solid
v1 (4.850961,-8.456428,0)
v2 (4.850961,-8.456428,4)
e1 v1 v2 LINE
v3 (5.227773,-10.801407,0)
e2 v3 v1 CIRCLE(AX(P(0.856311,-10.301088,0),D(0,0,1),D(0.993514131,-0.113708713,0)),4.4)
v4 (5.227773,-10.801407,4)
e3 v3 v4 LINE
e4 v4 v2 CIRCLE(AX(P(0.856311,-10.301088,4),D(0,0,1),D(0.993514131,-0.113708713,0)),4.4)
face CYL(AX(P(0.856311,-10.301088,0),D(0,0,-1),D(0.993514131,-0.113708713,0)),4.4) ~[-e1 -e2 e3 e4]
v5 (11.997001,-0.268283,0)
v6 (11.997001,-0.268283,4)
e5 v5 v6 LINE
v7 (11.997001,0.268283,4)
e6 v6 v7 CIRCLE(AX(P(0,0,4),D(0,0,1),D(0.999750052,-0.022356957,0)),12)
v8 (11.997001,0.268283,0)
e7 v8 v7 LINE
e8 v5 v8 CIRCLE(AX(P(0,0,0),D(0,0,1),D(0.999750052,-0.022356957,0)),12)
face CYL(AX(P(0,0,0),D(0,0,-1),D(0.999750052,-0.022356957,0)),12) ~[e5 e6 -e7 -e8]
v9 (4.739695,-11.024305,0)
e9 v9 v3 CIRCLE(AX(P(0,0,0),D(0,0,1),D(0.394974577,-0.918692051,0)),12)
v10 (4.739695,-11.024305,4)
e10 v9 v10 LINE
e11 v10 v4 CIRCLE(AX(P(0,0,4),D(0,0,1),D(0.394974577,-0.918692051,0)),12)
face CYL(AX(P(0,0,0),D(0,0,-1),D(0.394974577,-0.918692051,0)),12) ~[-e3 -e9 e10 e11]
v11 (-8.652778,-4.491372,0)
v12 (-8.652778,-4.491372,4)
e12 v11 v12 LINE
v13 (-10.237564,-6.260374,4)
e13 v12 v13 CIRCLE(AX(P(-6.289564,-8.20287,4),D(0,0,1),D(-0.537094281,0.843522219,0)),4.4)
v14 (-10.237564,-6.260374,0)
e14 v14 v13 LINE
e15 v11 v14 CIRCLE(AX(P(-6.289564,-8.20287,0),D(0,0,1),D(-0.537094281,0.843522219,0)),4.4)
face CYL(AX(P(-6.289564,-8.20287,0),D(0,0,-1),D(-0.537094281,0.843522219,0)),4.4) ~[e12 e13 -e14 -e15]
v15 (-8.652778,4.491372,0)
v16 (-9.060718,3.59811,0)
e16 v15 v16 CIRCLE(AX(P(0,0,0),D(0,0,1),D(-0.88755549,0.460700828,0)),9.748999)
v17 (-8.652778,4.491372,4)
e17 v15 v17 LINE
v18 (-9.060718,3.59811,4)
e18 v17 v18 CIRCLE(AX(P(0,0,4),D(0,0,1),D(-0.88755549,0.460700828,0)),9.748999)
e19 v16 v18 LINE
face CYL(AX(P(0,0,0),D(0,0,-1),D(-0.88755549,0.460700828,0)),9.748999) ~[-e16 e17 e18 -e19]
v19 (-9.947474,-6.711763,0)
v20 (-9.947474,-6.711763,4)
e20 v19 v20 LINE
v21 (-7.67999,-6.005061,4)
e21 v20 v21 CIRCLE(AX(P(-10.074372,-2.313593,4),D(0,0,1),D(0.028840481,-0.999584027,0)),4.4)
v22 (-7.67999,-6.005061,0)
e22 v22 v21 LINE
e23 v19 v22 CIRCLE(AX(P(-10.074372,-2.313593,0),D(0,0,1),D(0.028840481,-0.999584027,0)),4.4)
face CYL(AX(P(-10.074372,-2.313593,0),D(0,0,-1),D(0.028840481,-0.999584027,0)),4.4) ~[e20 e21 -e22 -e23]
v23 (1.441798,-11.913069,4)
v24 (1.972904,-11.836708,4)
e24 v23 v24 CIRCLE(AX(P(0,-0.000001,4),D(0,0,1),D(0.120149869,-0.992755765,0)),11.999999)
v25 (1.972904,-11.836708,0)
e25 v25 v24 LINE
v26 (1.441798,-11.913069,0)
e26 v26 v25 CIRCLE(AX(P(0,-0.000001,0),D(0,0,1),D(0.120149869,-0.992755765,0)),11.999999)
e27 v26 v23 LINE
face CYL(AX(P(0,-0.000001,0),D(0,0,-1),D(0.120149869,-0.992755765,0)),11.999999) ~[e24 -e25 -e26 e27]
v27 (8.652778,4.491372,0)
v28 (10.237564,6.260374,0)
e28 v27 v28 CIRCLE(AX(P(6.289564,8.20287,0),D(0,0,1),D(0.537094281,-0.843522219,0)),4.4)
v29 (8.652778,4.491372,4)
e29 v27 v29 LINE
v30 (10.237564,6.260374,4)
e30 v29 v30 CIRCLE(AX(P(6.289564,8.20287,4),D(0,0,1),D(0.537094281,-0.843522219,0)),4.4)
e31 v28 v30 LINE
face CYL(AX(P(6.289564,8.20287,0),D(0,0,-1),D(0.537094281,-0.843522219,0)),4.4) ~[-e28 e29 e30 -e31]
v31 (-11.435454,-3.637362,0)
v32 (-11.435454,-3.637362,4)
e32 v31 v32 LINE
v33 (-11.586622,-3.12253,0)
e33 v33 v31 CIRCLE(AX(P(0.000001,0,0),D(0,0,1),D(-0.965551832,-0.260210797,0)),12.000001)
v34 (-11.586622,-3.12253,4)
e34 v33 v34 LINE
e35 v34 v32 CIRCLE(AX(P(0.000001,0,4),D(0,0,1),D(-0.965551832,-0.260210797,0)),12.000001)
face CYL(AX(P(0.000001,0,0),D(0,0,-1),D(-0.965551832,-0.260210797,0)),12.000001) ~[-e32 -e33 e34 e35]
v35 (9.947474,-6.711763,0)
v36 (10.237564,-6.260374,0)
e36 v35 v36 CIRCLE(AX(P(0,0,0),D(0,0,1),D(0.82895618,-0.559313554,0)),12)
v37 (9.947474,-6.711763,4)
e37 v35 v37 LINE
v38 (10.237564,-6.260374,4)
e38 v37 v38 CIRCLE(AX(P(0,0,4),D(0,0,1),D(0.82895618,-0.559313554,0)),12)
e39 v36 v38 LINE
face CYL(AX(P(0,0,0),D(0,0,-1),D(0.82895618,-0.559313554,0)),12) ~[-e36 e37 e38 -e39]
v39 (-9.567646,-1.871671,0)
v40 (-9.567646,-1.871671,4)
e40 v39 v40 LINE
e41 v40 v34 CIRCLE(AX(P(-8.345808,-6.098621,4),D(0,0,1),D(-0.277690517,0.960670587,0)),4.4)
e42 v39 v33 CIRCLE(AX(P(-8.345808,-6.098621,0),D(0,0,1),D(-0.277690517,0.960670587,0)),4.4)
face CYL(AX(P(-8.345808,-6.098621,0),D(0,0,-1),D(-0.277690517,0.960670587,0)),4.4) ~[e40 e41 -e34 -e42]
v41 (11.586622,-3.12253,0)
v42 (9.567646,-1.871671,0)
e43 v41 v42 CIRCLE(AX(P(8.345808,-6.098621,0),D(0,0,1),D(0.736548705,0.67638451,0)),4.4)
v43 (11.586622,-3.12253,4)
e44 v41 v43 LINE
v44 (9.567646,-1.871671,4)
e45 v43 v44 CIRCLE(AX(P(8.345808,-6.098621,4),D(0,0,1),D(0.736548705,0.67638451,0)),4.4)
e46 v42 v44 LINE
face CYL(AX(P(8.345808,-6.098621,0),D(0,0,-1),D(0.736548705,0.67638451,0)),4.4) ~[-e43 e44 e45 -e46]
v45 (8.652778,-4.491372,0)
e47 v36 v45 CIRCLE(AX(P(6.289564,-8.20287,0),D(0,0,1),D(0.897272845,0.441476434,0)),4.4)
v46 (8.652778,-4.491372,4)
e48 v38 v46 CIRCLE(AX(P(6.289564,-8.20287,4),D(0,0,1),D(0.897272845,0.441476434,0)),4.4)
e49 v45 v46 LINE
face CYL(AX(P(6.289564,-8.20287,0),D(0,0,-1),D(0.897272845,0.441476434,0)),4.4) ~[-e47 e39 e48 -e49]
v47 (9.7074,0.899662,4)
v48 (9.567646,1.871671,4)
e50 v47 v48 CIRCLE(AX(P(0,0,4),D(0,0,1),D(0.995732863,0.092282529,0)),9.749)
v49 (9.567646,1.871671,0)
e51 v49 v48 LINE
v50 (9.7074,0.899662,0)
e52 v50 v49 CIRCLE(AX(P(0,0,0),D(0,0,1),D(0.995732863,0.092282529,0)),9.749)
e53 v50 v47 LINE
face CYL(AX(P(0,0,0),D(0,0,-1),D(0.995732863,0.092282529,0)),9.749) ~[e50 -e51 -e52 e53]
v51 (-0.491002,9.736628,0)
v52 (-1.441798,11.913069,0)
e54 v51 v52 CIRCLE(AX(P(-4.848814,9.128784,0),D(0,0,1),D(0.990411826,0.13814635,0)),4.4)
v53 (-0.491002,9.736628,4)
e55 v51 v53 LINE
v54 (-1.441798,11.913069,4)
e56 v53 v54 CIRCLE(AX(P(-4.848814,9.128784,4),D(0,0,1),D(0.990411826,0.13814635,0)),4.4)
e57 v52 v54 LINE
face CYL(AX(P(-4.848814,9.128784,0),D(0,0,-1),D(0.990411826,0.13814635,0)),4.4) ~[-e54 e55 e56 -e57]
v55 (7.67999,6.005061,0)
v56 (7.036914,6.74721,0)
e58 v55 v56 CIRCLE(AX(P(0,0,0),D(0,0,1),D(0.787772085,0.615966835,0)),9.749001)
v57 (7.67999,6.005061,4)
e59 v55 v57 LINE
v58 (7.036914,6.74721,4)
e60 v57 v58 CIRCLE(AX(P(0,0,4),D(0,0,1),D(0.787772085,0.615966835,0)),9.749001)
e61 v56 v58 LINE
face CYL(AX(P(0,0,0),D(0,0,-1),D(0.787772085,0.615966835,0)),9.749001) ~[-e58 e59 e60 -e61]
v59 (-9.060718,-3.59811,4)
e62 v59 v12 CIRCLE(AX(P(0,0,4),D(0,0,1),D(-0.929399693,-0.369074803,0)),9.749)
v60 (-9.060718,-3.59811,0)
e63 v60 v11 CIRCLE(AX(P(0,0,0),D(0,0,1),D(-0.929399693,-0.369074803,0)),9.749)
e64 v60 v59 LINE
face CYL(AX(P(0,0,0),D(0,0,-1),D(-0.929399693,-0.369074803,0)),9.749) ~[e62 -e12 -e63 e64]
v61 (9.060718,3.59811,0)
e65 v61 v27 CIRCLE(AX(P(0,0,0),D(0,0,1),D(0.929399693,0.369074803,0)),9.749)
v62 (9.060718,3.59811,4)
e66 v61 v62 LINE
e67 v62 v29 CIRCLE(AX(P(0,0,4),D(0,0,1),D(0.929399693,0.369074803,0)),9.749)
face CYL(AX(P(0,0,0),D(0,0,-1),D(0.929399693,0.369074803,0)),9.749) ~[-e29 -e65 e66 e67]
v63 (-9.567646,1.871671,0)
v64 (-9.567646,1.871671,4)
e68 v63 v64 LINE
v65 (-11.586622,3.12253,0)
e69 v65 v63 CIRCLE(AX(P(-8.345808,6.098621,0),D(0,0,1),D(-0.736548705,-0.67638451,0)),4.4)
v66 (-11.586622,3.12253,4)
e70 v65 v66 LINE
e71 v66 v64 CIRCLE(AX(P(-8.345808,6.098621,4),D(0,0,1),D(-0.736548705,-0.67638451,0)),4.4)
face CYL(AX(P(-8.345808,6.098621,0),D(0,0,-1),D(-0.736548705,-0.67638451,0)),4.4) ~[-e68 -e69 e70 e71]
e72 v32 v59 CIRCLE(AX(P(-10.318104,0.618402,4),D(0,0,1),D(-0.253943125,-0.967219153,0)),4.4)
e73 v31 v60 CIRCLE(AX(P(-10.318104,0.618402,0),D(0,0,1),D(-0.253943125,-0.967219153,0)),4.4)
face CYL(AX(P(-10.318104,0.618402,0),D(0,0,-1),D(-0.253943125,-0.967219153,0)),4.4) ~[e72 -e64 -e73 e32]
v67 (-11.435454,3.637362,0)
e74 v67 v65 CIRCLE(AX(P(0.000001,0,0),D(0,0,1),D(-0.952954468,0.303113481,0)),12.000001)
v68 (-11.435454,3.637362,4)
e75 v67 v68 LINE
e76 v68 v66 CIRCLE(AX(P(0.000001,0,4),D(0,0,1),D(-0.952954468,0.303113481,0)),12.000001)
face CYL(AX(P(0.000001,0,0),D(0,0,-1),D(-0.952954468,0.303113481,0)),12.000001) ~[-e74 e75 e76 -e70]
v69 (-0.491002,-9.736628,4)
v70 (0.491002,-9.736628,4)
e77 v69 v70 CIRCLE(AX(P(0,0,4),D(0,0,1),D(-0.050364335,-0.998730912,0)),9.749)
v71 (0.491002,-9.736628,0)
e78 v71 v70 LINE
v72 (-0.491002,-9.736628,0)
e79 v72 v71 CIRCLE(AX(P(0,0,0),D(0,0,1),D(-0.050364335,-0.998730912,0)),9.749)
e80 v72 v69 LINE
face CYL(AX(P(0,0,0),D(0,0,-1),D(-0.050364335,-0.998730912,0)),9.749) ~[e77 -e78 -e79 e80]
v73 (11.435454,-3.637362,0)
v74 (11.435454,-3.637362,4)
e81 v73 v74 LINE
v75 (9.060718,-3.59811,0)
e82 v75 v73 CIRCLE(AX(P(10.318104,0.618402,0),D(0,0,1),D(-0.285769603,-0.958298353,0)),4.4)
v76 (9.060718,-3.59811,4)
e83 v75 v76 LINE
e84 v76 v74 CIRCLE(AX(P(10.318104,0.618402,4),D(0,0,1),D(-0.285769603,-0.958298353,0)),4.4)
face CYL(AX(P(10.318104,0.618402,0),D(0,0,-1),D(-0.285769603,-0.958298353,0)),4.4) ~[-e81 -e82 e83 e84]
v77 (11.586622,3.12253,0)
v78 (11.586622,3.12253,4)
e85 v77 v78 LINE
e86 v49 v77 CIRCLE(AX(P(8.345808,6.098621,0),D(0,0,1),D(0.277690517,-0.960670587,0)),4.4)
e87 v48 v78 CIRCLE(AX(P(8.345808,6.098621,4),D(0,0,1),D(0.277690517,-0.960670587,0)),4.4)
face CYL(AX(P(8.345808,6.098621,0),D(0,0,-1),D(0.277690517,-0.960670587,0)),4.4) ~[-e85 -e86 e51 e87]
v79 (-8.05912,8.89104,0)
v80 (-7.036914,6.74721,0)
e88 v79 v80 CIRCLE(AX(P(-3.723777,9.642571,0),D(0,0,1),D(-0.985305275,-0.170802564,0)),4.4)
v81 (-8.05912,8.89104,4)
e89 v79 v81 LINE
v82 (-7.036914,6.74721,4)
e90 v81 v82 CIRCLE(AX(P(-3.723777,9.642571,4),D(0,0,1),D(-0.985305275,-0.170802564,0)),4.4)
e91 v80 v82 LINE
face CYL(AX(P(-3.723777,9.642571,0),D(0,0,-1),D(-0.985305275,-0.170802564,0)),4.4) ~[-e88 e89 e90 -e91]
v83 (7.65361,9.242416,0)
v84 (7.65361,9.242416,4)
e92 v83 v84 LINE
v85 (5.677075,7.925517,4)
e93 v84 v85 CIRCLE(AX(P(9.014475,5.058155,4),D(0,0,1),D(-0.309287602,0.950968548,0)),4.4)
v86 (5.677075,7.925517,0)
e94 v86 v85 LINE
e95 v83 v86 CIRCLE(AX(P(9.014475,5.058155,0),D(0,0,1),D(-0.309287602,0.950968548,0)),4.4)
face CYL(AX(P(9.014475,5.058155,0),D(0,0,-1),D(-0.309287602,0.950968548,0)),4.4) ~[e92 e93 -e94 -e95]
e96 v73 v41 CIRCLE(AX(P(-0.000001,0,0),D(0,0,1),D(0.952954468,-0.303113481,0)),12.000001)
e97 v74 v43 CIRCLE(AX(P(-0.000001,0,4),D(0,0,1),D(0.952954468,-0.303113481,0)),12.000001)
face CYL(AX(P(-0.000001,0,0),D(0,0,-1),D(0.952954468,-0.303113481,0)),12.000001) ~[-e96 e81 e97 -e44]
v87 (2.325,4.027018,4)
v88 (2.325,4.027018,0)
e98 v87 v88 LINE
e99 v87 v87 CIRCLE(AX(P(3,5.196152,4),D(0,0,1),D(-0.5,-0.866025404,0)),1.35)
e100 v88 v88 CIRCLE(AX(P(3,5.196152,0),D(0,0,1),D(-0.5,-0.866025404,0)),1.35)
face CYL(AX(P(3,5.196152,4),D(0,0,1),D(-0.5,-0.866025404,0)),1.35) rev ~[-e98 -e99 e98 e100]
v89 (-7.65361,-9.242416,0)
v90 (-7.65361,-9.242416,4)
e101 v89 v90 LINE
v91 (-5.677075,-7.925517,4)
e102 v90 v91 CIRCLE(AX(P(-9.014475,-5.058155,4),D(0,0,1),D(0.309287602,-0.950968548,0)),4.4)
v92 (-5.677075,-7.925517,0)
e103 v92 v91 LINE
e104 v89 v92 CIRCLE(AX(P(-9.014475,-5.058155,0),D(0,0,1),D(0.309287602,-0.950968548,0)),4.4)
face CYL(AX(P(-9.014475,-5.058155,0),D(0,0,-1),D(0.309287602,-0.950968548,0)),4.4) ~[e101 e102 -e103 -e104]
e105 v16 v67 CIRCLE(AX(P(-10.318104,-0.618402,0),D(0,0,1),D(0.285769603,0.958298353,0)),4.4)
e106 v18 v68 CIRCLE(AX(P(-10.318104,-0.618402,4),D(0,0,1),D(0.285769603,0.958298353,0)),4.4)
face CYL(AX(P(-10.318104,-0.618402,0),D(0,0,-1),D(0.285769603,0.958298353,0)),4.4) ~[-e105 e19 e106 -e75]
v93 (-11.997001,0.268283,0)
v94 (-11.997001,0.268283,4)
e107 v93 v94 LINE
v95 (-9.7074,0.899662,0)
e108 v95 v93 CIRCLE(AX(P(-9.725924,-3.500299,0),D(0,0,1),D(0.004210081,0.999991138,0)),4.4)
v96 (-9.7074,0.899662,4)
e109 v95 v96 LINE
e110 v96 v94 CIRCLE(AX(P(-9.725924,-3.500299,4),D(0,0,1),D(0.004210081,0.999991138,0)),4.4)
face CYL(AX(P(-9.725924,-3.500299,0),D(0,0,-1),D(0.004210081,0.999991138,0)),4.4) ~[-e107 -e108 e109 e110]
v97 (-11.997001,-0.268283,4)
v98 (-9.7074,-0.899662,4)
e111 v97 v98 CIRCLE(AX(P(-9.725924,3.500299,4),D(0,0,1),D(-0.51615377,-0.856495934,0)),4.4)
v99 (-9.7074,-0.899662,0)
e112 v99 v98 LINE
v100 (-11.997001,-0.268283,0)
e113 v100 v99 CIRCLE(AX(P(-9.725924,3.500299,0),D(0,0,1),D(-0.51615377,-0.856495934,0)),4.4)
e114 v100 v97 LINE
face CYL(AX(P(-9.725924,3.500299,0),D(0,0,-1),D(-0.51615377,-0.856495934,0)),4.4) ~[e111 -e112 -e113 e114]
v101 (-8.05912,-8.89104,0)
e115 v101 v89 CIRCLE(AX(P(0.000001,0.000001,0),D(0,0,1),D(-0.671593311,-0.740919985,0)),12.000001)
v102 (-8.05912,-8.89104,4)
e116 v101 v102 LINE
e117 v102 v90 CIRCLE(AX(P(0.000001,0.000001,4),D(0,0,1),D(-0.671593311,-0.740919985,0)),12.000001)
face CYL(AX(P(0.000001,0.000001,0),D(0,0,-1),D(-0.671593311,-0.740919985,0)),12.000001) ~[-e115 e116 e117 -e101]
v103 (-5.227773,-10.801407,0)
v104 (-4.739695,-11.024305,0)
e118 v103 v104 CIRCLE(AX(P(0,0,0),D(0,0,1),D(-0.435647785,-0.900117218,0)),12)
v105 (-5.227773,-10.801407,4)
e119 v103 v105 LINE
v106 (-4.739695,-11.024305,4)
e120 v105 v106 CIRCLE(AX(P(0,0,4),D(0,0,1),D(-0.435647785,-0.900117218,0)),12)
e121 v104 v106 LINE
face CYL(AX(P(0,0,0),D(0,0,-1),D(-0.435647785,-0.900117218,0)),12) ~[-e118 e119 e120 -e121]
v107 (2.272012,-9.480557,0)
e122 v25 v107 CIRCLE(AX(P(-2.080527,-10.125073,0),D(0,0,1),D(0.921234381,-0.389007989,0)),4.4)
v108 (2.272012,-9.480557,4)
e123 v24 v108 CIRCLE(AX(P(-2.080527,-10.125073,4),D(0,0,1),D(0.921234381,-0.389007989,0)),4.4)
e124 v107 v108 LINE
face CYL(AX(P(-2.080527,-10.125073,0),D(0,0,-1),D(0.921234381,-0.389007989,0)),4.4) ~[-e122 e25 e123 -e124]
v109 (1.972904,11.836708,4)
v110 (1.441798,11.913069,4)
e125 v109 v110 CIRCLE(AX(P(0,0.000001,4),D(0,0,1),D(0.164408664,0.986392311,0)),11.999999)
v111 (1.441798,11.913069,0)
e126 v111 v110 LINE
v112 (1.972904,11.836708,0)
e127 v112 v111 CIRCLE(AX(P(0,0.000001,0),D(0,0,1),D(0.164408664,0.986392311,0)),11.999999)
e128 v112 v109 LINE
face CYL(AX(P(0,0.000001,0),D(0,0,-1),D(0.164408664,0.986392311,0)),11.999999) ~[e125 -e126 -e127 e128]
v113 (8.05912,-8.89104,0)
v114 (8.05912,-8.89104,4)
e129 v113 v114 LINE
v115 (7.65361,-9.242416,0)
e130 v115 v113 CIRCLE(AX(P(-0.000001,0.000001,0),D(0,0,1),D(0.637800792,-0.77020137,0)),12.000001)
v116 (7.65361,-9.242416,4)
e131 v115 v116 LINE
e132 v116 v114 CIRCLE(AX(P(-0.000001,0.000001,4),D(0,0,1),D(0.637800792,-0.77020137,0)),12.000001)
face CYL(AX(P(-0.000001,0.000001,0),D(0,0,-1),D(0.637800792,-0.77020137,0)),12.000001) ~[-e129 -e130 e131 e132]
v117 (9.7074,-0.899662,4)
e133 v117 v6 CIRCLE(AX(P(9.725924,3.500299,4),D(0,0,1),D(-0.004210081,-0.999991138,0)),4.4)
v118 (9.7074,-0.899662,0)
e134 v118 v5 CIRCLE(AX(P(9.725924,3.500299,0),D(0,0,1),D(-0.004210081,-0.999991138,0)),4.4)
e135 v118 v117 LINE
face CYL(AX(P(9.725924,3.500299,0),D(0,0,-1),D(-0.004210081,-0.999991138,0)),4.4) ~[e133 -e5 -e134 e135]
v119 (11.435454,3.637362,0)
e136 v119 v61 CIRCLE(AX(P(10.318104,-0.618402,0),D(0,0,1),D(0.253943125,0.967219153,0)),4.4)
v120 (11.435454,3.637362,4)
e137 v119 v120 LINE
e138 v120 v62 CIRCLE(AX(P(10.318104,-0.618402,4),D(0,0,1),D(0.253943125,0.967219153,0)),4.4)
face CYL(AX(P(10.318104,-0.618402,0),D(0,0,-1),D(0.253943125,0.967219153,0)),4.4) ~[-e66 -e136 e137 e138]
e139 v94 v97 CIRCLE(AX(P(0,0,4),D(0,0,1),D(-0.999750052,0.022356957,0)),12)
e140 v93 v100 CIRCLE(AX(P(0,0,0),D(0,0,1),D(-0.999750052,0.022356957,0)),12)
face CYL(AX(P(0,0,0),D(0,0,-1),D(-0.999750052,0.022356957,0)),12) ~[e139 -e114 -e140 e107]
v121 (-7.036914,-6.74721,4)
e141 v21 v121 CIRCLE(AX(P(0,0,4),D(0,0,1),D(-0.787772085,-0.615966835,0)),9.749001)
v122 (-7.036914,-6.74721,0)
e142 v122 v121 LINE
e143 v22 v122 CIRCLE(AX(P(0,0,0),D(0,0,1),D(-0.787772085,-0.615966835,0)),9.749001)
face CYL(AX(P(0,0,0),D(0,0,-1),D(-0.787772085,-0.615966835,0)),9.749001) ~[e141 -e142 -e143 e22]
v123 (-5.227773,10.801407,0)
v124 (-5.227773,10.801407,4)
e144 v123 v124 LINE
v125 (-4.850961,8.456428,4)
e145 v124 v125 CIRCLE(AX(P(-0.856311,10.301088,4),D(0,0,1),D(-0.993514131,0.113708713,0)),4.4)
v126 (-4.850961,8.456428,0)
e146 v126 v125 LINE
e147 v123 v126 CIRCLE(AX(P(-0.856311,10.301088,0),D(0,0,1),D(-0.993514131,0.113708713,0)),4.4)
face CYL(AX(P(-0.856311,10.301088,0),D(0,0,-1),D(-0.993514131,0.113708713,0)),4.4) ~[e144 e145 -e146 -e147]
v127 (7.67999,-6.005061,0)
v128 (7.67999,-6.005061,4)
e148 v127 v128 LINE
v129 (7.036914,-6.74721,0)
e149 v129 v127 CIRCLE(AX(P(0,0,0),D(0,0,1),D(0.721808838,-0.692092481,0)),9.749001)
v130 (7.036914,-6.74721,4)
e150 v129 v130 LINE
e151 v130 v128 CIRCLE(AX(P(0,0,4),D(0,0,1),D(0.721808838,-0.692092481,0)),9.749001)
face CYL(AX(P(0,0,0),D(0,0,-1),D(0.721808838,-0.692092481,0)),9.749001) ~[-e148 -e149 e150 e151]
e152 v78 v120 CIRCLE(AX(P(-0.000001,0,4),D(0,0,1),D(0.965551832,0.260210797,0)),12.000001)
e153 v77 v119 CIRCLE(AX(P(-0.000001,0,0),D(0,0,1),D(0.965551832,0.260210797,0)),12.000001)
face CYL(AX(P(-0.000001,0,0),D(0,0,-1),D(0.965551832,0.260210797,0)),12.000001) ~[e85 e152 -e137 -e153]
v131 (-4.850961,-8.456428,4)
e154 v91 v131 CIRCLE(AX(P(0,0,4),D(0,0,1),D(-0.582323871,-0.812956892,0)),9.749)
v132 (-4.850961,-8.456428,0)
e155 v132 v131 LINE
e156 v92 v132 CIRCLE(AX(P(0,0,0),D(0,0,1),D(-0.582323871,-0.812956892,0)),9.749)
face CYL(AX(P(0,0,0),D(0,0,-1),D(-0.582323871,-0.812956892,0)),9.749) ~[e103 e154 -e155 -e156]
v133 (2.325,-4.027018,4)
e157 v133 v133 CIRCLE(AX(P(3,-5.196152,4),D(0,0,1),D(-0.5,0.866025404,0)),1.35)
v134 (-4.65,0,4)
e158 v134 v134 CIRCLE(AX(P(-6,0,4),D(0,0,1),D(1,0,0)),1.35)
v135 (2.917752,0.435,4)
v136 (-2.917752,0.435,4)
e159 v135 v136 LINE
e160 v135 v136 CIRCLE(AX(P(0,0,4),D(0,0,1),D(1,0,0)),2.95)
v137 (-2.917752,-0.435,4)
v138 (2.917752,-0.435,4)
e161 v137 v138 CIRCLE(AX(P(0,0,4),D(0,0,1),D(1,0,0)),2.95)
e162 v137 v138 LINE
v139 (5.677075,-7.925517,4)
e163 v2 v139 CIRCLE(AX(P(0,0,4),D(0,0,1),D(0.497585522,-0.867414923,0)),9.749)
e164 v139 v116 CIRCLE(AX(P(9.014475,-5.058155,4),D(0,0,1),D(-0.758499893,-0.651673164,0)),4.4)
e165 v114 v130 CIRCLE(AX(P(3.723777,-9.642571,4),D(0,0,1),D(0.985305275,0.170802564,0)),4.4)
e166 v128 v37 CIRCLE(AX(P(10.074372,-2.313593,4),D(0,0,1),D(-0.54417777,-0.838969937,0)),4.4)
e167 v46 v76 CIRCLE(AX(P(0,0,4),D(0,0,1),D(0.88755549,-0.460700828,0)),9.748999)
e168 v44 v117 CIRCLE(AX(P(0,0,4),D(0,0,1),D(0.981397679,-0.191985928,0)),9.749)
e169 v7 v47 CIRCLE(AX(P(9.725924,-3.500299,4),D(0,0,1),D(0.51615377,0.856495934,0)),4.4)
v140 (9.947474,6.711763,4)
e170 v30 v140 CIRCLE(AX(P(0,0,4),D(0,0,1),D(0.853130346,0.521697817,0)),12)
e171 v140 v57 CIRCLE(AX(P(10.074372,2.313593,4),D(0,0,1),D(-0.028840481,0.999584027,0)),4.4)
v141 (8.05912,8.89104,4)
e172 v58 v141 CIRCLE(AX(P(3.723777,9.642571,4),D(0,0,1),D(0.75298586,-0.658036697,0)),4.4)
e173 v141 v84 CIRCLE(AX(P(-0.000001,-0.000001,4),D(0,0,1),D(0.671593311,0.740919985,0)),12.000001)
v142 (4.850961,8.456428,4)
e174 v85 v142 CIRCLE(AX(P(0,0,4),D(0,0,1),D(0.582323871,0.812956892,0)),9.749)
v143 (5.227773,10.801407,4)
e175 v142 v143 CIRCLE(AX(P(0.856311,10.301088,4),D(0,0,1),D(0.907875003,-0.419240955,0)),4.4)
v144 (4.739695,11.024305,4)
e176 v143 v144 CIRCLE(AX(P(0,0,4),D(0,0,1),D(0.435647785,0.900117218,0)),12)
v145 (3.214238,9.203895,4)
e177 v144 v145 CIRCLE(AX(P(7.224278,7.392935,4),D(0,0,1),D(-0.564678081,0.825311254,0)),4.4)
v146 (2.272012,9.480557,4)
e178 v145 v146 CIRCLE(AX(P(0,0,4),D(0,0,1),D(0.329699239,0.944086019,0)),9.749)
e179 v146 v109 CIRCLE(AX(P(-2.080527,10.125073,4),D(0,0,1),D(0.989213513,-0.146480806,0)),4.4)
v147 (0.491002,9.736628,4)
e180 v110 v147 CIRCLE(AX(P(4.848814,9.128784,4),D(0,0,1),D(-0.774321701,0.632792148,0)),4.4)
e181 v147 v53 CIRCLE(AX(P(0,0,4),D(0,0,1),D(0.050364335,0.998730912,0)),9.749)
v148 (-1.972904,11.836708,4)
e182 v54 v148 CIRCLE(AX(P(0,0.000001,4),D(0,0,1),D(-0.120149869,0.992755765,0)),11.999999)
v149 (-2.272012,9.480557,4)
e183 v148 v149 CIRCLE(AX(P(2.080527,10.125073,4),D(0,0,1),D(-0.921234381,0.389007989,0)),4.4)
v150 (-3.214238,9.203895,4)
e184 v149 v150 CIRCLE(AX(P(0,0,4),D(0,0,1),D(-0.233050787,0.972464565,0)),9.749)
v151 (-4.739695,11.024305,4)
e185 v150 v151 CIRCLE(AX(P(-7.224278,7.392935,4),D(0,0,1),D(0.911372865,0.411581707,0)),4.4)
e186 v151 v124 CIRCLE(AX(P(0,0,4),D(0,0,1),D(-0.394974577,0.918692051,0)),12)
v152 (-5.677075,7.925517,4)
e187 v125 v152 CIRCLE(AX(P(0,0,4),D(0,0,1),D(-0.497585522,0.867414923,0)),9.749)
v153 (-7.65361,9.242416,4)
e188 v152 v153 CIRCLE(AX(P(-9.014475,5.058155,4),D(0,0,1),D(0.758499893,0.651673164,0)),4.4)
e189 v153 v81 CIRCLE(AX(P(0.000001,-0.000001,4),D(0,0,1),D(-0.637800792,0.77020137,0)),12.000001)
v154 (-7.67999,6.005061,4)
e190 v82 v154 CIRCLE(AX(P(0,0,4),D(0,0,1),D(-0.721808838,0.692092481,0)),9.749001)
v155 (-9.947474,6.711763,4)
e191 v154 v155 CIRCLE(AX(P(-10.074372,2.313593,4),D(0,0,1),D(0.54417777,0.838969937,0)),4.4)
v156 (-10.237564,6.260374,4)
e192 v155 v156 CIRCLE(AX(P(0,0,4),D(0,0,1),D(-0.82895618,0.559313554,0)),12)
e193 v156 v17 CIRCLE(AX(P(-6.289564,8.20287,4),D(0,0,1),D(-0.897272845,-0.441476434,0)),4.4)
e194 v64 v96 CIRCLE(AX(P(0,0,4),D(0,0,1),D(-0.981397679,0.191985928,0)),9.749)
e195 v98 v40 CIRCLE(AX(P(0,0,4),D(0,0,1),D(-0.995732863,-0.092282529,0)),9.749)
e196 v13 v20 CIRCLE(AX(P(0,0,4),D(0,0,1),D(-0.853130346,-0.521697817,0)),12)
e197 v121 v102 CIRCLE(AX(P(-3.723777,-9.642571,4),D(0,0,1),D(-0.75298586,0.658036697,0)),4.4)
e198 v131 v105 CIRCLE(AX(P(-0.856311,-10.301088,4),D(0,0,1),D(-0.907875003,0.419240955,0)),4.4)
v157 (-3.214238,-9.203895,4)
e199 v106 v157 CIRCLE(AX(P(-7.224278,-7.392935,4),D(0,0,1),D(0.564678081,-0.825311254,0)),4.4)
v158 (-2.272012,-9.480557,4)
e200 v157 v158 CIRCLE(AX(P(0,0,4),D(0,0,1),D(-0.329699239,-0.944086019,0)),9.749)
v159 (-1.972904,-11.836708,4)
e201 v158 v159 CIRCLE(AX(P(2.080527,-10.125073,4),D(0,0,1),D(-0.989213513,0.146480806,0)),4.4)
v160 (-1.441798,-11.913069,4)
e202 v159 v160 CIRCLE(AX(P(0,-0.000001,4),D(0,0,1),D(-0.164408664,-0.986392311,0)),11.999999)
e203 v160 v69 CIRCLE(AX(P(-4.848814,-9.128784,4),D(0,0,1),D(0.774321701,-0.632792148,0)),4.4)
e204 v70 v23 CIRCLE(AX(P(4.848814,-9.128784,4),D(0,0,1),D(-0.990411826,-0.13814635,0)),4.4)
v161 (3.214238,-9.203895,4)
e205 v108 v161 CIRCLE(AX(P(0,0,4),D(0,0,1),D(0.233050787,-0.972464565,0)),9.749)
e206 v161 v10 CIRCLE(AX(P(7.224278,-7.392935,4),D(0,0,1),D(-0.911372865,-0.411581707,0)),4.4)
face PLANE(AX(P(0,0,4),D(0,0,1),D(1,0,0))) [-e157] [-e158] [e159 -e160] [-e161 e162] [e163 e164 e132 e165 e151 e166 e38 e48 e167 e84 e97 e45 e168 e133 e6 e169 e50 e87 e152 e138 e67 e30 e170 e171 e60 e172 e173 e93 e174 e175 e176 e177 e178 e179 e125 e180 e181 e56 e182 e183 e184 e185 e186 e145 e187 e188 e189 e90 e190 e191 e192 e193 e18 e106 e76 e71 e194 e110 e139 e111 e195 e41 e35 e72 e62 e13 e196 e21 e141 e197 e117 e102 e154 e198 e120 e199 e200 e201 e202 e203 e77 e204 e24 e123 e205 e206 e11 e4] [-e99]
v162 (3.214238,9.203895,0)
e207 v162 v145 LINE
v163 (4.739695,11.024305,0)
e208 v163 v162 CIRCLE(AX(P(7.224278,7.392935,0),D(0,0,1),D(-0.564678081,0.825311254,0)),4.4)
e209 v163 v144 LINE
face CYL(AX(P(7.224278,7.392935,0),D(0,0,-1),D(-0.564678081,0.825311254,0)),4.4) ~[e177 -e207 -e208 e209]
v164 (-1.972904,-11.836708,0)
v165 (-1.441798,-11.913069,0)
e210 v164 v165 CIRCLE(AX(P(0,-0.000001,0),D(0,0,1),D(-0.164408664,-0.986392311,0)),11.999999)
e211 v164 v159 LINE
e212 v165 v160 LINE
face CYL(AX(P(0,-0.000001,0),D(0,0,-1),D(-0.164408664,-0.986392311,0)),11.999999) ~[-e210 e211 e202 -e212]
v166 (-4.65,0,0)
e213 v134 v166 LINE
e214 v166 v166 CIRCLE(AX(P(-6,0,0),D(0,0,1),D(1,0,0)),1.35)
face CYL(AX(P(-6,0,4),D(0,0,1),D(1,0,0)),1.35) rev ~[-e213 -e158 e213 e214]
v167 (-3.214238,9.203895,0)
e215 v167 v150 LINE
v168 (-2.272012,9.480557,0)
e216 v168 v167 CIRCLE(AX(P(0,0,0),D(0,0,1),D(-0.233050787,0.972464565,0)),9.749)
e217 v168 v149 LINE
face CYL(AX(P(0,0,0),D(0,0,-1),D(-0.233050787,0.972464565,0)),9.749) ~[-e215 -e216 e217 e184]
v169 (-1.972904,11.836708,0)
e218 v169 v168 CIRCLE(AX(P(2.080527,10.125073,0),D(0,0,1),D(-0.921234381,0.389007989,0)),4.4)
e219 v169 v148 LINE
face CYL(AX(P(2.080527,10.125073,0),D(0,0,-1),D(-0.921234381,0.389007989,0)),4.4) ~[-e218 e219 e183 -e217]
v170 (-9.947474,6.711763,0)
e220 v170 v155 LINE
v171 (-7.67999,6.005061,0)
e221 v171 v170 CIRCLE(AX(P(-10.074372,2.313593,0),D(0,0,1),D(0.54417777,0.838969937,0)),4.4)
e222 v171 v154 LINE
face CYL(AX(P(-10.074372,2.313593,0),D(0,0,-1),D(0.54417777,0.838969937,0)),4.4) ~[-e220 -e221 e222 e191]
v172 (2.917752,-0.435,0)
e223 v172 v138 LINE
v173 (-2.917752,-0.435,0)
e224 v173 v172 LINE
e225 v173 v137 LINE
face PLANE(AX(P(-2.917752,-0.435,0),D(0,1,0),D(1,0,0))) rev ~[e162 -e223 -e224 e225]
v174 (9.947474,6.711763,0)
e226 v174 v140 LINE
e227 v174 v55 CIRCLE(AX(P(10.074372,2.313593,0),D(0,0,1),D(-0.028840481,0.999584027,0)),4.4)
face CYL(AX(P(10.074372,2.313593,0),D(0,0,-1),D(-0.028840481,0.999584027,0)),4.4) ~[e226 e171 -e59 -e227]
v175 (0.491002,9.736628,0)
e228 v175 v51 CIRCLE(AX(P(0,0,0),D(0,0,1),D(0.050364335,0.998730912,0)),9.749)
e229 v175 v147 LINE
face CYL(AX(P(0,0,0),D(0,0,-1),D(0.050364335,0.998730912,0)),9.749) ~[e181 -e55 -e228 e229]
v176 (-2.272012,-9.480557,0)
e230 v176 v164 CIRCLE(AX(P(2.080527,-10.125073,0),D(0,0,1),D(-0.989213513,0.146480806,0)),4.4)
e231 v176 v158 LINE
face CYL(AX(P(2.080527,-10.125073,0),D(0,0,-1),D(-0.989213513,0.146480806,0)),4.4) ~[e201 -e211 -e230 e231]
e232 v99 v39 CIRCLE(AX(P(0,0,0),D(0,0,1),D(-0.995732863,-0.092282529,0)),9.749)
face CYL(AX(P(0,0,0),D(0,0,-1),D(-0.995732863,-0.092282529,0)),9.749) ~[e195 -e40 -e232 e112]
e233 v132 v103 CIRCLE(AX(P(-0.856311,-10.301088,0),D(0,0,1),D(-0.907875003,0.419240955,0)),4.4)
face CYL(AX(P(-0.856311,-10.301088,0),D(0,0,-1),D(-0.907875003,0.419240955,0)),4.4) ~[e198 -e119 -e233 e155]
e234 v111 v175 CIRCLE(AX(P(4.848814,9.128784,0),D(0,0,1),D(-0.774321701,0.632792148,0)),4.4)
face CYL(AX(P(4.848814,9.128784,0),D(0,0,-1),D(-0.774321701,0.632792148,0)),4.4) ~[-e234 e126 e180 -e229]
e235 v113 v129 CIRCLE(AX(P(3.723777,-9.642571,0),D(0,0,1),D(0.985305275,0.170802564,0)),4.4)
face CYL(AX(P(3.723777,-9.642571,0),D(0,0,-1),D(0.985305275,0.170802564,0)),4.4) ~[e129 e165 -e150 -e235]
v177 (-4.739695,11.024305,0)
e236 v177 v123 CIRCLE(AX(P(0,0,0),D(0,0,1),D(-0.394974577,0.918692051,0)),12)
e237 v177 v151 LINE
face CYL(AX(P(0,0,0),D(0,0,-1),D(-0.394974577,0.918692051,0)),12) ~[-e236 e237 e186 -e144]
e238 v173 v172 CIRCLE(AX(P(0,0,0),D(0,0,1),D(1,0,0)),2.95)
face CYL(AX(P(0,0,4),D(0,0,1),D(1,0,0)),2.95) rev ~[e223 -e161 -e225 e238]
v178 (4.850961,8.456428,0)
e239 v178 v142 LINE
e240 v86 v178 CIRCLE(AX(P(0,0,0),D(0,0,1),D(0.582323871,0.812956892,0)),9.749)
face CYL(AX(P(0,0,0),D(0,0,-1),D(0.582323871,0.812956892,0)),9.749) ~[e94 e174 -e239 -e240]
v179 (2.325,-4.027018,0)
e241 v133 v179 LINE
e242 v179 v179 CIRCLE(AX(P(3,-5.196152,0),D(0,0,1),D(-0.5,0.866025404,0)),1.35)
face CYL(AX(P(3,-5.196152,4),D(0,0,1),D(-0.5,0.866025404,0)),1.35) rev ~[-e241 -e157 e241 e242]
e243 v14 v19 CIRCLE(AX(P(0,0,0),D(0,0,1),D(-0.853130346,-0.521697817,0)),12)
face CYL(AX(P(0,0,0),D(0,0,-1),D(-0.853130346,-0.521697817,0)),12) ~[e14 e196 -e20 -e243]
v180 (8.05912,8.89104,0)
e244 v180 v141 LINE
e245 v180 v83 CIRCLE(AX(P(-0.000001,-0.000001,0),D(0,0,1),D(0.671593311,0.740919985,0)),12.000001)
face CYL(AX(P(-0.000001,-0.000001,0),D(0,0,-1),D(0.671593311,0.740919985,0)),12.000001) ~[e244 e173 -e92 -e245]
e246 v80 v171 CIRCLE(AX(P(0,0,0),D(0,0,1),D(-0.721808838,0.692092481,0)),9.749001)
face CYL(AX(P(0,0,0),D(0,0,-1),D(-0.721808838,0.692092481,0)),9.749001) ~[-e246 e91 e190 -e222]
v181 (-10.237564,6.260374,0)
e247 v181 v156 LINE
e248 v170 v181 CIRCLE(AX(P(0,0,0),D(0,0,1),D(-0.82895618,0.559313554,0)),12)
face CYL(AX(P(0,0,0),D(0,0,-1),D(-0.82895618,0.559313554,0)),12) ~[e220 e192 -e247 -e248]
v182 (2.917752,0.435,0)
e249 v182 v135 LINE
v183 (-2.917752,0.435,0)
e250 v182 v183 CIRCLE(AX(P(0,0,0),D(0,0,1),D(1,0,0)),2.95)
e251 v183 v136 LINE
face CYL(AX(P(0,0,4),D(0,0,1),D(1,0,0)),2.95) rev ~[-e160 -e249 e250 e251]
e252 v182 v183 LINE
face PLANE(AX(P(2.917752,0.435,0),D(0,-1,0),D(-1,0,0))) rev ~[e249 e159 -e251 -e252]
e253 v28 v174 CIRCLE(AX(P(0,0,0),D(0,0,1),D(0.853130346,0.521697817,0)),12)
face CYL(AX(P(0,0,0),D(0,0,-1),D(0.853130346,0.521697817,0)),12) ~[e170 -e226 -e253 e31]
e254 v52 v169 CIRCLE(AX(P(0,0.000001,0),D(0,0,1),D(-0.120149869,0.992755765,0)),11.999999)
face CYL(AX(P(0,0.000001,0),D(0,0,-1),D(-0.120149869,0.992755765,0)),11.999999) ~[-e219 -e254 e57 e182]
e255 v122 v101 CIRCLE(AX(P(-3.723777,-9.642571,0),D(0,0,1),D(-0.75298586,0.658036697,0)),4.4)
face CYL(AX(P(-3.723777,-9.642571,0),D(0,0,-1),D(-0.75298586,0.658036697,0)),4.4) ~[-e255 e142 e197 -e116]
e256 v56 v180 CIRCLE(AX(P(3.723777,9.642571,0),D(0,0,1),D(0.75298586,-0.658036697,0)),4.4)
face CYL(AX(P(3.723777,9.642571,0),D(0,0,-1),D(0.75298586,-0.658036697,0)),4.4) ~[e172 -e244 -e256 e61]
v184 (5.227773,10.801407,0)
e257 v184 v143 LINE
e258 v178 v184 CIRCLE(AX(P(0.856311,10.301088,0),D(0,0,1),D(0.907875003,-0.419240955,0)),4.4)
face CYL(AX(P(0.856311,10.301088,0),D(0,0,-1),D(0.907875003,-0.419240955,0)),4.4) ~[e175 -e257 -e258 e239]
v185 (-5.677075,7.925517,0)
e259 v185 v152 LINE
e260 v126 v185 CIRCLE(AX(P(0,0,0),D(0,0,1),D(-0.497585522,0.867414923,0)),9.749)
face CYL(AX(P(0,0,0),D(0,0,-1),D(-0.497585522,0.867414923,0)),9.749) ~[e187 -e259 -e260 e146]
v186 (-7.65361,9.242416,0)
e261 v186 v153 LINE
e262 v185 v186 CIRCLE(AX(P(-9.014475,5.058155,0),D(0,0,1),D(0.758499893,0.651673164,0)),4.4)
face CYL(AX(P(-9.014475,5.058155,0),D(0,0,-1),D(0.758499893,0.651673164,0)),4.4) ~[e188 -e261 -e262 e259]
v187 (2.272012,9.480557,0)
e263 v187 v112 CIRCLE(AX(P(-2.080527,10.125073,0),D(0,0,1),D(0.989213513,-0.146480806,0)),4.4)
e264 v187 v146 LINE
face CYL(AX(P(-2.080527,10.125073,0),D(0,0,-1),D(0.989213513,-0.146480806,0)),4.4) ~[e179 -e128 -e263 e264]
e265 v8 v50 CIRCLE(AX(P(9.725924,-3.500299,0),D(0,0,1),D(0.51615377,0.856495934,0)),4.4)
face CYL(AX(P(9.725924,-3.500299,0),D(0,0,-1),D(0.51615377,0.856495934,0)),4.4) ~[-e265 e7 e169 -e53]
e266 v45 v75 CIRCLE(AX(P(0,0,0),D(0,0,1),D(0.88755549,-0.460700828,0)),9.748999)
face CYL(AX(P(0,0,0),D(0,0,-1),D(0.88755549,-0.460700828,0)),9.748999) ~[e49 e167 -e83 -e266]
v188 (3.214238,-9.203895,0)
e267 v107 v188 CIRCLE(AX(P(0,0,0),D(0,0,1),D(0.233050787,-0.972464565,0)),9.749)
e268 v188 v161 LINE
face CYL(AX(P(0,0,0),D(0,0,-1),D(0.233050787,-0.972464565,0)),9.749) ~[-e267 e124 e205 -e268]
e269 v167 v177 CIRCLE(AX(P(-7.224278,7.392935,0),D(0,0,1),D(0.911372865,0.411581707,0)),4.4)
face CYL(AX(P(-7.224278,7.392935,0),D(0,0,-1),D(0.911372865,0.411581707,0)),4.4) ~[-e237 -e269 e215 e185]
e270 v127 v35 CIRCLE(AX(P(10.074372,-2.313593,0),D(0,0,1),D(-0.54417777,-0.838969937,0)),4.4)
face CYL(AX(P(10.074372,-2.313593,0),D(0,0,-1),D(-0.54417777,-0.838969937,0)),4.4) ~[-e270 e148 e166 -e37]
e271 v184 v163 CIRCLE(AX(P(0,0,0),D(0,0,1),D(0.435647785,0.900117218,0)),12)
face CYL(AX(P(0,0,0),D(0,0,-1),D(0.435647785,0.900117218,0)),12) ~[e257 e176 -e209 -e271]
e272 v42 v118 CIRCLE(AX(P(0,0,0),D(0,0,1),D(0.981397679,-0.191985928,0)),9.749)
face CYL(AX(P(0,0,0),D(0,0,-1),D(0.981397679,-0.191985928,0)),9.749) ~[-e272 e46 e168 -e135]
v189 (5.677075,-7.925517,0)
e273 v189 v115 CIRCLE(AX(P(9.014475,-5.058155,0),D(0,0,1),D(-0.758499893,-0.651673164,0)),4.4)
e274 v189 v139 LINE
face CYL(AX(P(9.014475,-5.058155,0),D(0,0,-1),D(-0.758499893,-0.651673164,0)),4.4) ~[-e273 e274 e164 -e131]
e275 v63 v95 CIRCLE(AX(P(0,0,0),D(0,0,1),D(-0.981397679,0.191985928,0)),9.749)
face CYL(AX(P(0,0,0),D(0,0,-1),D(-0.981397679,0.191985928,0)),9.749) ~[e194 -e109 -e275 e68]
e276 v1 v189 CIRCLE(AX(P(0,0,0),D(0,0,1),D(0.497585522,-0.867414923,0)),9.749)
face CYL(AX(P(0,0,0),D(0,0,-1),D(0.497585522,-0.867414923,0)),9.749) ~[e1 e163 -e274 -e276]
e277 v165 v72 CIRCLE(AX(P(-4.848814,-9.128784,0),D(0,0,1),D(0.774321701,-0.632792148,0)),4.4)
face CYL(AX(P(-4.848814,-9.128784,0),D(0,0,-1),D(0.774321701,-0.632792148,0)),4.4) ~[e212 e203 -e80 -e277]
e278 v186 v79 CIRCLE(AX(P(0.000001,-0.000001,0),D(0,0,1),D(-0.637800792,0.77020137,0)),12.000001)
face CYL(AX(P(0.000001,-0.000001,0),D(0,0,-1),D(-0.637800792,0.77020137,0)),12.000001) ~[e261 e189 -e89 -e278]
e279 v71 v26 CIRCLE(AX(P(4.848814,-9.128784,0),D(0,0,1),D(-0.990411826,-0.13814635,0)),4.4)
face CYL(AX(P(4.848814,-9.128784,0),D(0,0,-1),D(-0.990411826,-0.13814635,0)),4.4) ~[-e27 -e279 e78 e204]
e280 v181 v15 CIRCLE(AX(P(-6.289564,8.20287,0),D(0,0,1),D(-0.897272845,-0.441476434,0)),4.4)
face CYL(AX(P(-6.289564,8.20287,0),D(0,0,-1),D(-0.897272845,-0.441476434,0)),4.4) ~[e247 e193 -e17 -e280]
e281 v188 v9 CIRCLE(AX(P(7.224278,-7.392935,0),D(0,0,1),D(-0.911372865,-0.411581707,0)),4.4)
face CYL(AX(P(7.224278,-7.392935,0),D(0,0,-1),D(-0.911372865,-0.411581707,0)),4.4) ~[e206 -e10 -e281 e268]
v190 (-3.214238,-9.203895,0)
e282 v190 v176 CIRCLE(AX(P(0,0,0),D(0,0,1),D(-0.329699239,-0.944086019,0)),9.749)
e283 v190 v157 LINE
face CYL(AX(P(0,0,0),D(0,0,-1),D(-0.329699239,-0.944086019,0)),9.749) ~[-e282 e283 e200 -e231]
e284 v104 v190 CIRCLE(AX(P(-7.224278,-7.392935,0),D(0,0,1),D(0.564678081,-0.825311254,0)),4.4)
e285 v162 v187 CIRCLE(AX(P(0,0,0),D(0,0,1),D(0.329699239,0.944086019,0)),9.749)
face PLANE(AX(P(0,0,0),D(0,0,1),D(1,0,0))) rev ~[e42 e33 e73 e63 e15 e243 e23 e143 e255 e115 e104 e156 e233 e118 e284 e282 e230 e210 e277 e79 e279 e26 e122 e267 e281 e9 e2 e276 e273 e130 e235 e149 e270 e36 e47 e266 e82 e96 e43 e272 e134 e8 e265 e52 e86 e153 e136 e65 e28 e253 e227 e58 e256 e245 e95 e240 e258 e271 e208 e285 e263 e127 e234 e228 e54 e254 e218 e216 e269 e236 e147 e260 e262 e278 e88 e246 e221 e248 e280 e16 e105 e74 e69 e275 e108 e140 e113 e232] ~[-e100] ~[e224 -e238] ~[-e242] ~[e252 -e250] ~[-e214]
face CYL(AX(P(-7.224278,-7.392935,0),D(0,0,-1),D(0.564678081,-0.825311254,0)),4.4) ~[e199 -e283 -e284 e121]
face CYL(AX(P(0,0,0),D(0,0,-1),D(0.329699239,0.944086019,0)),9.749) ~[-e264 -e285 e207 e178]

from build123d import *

# Parameters (mm, degrees)
MODEL_R             = 2.5
BOSS_EXTRUDE1_DEPTH = 4
SKETCH2_R           = 2.95
CUT_EXTRUDE1_DEPTH  = 4
SKETCH3_R           = 1.35
CUT_EXTRUDE2_DEPTH  = 4
CIRPATTERN1_COUNT   = 3
BOSS_EXTRUDE2_DEPTH = 4


with BuildPart() as part:
    # Model → Boss-Extrude1 (new body)
    with BuildSketch(Plane.XY):
        with BuildLine():
            ThreePointArc((-11.997000624, 0.268283487), (-12, 0), (-11.997000624, -0.268283487))
            ThreePointArc((-11.997000624, -0.268283487), (-10.895606779, -0.741380557), (-9.707399683, -0.89966238))
            ThreePointArc((-9.707399683, -0.89966238), (-9.649769237, -1.387427358), (-9.56764597, -1.8716708))
            ThreePointArc((-9.56764597, -1.8716708), (-10.663129188, -2.358297721), (-11.586621996, -3.122529539))
            ThreePointArc((-11.586621996, -3.122529539), (-11.513915683, -3.380790682), (-11.43545361, -3.637361781))
            ThreePointArc((-11.43545361, -3.637361781), (-10.245387108, -3.780996591), (-9.060717605, -3.598110265))
            ThreePointArc((-9.060717605, -3.598110265), (-8.868002323, -4.049880962), (-8.652778483, -4.491372344))
            ThreePointArc((-8.652778483, -4.491372344), (-9.566788286, -5.266920743), (-10.237564162, -6.260373793))
            ThreePointArc((-10.237564162, -6.260373793), (-10.095042394, -6.487689809), (-9.947474154, -6.711762656))
            ThreePointArc((-9.947474154, -6.711762656), (-8.765147105, -6.514298768), (-7.679990073, -6.005060656))
            ThreePointArc((-7.679990073, -6.005060656), (-7.3678026, -6.384237295), (-7.036914342, -6.747209612))
            ThreePointArc((-7.036914342, -6.747209612), (-7.695403093, -7.74884917), (-8.059119765, -8.891039794))
            ThreePointArc((-8.059119765, -8.891039794), (-7.858328807, -9.068994892), (-7.653609502, -9.242416436))
            ThreePointArc((-7.653609502, -9.242416436), (-6.574807012, -8.719851201), (-5.67707542, -7.925516745))
            ThreePointArc((-5.67707542, -7.925516745), (-5.270707329, -8.201380692), (-4.850961252, -8.456428084))
            ThreePointArc((-4.850961252, -8.456428084), (-5.200582107, -9.603011921), (-5.227773414, -10.801406627))
            ThreePointArc((-5.227773414, -10.801406627), (-4.984980156, -10.915583944), (-4.739694926, -11.024304604))
            ThreePointArc((-4.739694926, -11.024304604), (-3.851815156, -10.218973149), (-3.214237879, -9.203894603))
            ThreePointArc((-3.214237879, -9.203894603), (-2.746610697, -9.354097), (-2.27201213, -9.480557045))
            ThreePointArc((-2.27201213, -9.480557045), (-2.284440889, -10.679195758), (-1.972903952, -11.836707735))
            ThreePointArc((-1.972903952, -11.836707735), (-1.707778059, -11.877857303), (-1.441798455, -11.913069177))
            ThreePointArc((-1.441798455, -11.913069177), (-0.816772145, -10.890214666), (-0.491001901, -9.736627657))
            ThreePointArc((-0.491001901, -9.736627657), (0, -9.749), (0.491001901, -9.736627657))
            ThreePointArc((0.491001901, -9.736627657), (0.816772145, -10.890214666), (1.441798455, -11.913069177))
            ThreePointArc((1.441798455, -11.913069177), (1.707778059, -11.877857303), (1.972903952, -11.836707735))
            ThreePointArc((1.972903952, -11.836707735), (2.284440889, -10.679195758), (2.27201213, -9.480557045))
            ThreePointArc((2.27201213, -9.480557045), (2.746610697, -9.354097), (3.214237879, -9.203894603))
            ThreePointArc((3.214237879, -9.203894603), (3.851815156, -10.218973149), (4.739694926, -11.024304604))
            ThreePointArc((4.739694926, -11.024304604), (4.984980156, -10.915583944), (5.227773414, -10.801406627))
            ThreePointArc((5.227773414, -10.801406627), (5.200582107, -9.603011921), (4.850961252, -8.456428084))
            ThreePointArc((4.850961252, -8.456428084), (5.270707329, -8.201380692), (5.67707542, -7.925516745))
            ThreePointArc((5.67707542, -7.925516745), (6.574807012, -8.719851201), (7.653609502, -9.242416436))
            ThreePointArc((7.653609502, -9.242416436), (7.858328807, -9.068994892), (8.059119765, -8.891039794))
            ThreePointArc((8.059119765, -8.891039794), (7.695403093, -7.74884917), (7.036914342, -6.747209612))
            ThreePointArc((7.036914342, -6.747209612), (7.3678026, -6.384237295), (7.679990073, -6.005060656))
            ThreePointArc((7.679990073, -6.005060656), (8.765147105, -6.514298768), (9.947474154, -6.711762656))
            ThreePointArc((9.947474154, -6.711762656), (10.095042394, -6.487689809), (10.237564162, -6.260373793))
            ThreePointArc((10.237564162, -6.260373793), (9.566788286, -5.266920743), (8.652778482, -4.491372344))
            ThreePointArc((8.652778482, -4.491372344), (8.868002323, -4.049880962), (9.060717605, -3.598110265))
            ThreePointArc((9.060717605, -3.598110265), (10.245387108, -3.780996591), (11.43545361, -3.637361781))
            ThreePointArc((11.43545361, -3.637361781), (11.513915683, -3.380790682), (11.586621996, -3.122529539))
            ThreePointArc((11.586621996, -3.122529539), (10.663129188, -2.358297721), (9.56764597, -1.8716708))
            ThreePointArc((9.56764597, -1.8716708), (9.649769237, -1.387427358), (9.707399683, -0.89966238))
            ThreePointArc((9.707399683, -0.89966238), (10.895606779, -0.741380557), (11.997000624, -0.268283487))
            ThreePointArc((11.997000624, -0.268283487), (12, 0), (11.997000624, 0.268283487))
            ThreePointArc((11.997000624, 0.268283487), (10.895606779, 0.741380557), (9.707399683, 0.89966238))
            ThreePointArc((9.707399683, 0.89966238), (9.649769237, 1.387427358), (9.56764597, 1.8716708))
            ThreePointArc((9.56764597, 1.8716708), (10.663129188, 2.358297721), (11.586621996, 3.122529539))
            ThreePointArc((11.586621996, 3.122529539), (11.513915683, 3.380790682), (11.43545361, 3.637361781))
            ThreePointArc((11.43545361, 3.637361781), (10.245387108, 3.780996591), (9.060717605, 3.598110265))
            ThreePointArc((9.060717605, 3.598110265), (8.868002323, 4.049880962), (8.652778483, 4.491372344))
            ThreePointArc((8.652778483, 4.491372344), (9.566788286, 5.266920743), (10.237564162, 6.260373793))
            ThreePointArc((10.237564162, 6.260373793), (10.095042394, 6.487689809), (9.947474154, 6.711762656))
            ThreePointArc((9.947474154, 6.711762656), (8.765147105, 6.514298768), (7.679990073, 6.005060656))
            ThreePointArc((7.679990073, 6.005060656), (7.3678026, 6.384237295), (7.036914342, 6.747209612))
            ThreePointArc((7.036914342, 6.747209612), (7.695403093, 7.74884917), (8.059119765, 8.891039794))
            ThreePointArc((8.059119765, 8.891039794), (7.858328807, 9.068994892), (7.653609502, 9.242416436))
            ThreePointArc((7.653609502, 9.242416436), (6.574807012, 8.719851201), (5.67707542, 7.925516745))
            ThreePointArc((5.67707542, 7.925516745), (5.270707329, 8.201380692), (4.850961252, 8.456428084))
            ThreePointArc((4.850961252, 8.456428084), (5.200582107, 9.603011921), (5.227773414, 10.801406627))
            ThreePointArc((5.227773414, 10.801406627), (4.984980156, 10.915583944), (4.739694926, 11.024304604))
            ThreePointArc((4.739694926, 11.024304604), (3.851815156, 10.218973149), (3.214237879, 9.203894603))
            ThreePointArc((3.214237879, 9.203894603), (2.746610697, 9.354097), (2.27201213, 9.480557045))
            ThreePointArc((2.27201213, 9.480557045), (2.284440889, 10.679195758), (1.972903952, 11.836707735))
            ThreePointArc((1.972903952, 11.836707735), (1.707778059, 11.877857303), (1.441798455, 11.913069177))
            ThreePointArc((1.441798455, 11.913069177), (0.816772145, 10.890214666), (0.491001901, 9.736627657))
            ThreePointArc((0.491001901, 9.736627657), (0, 9.749), (-0.491001901, 9.736627657))
            ThreePointArc((-0.491001901, 9.736627657), (-0.816772145, 10.890214666), (-1.441798455, 11.913069177))
            ThreePointArc((-1.441798455, 11.913069177), (-1.707778059, 11.877857303), (-1.972903952, 11.836707735))
            ThreePointArc((-1.972903952, 11.836707735), (-2.284440889, 10.679195758), (-2.27201213, 9.480557045))
            ThreePointArc((-2.27201213, 9.480557045), (-2.746610697, 9.354097), (-3.214237879, 9.203894603))
            ThreePointArc((-3.214237879, 9.203894603), (-3.851815156, 10.218973149), (-4.739694926, 11.024304604))
            ThreePointArc((-4.739694926, 11.024304604), (-4.984980156, 10.915583944), (-5.227773414, 10.801406627))
            ThreePointArc((-5.227773414, 10.801406627), (-5.200582107, 9.603011921), (-4.850961252, 8.456428084))
            ThreePointArc((-4.850961252, 8.456428084), (-5.270707329, 8.201380692), (-5.67707542, 7.925516745))
            ThreePointArc((-5.67707542, 7.925516745), (-6.574807012, 8.719851201), (-7.653609502, 9.242416436))
            ThreePointArc((-7.653609502, 9.242416436), (-7.858328807, 9.068994892), (-8.059119765, 8.891039794))
            ThreePointArc((-8.059119765, 8.891039794), (-7.695403093, 7.74884917), (-7.036914342, 6.747209612))
            ThreePointArc((-7.036914342, 6.747209612), (-7.3678026, 6.384237295), (-7.679990073, 6.005060656))
            ThreePointArc((-7.679990073, 6.005060656), (-8.765147105, 6.514298768), (-9.947474154, 6.711762656))
            ThreePointArc((-9.947474154, 6.711762656), (-10.095042394, 6.487689809), (-10.237564162, 6.260373793))
            ThreePointArc((-10.237564162, 6.260373793), (-9.566788286, 5.266920743), (-8.652778482, 4.491372344))
            ThreePointArc((-8.652778482, 4.491372344), (-8.868002323, 4.049880962), (-9.060717605, 3.598110265))
            ThreePointArc((-9.060717605, 3.598110265), (-10.245387108, 3.780996591), (-11.43545361, 3.637361781))
            ThreePointArc((-11.43545361, 3.637361781), (-11.513915683, 3.380790682), (-11.586621996, 3.122529539))
            ThreePointArc((-11.586621996, 3.122529539), (-10.663129188, 2.358297721), (-9.56764597, 1.8716708))
            ThreePointArc((-9.56764597, 1.8716708), (-9.649769237, 1.387427358), (-9.707399683, 0.89966238))
            ThreePointArc((-9.707399683, 0.89966238), (-10.895606779, 0.741380557), (-11.997000624, 0.268283487))
        make_face()
        Circle(MODEL_R, mode=Mode.SUBTRACT)
    extrude(amount=BOSS_EXTRUDE1_DEPTH)

    # Sketch2 → Cut-Extrude1 (cut)
    with BuildSketch(Plane.XY.offset(4)):
        Circle(SKETCH2_R)
    extrude(amount=-CUT_EXTRUDE1_DEPTH, mode=Mode.SUBTRACT)

    # Sketch3 → Cut-Extrude2 (cut)
    with BuildSketch(Plane.XY.offset(4)):
        with Locations((-6, 0)):
            Circle(SKETCH3_R)
    cut_extrude2 = extrude(amount=-CUT_EXTRUDE2_DEPTH, mode=Mode.SUBTRACT)

    # CirPattern1: Cut-Extrude2 ×3 about axis
    cirpattern1_axis = Axis((0, 0, 0), (0, 0, 1))
    for i in range(1, CIRPATTERN1_COUNT):
        add(cut_extrude2.rotate(cirpattern1_axis, i * 360 / CIRPATTERN1_COUNT), mode=Mode.SUBTRACT)

    # Sketch5 → Boss-Extrude2 (add)
    with BuildSketch(Plane.XY):
        with BuildLine():
            ThreePointArc((-2.95, 0), (-2.941926879, -0.218096855), (-2.917751703, -0.435))
            Line((-2.917751703, -0.435), (2.917751703, -0.435))
            ThreePointArc((2.917751703, -0.435), (2.941926879, -0.218096855), (2.95, 0))
            ThreePointArc((2.95, 0), (2.941926879, 0.218096855), (2.917751703, 0.435))
            Line((2.917751703, 0.435), (-2.917751703, 0.435))
            ThreePointArc((-2.917751703, 0.435), (-2.941926879, 0.218096855), (-2.95, 0))
        make_face()
    extrude(amount=BOSS_EXTRUDE2_DEPTH)


solid = part.part
